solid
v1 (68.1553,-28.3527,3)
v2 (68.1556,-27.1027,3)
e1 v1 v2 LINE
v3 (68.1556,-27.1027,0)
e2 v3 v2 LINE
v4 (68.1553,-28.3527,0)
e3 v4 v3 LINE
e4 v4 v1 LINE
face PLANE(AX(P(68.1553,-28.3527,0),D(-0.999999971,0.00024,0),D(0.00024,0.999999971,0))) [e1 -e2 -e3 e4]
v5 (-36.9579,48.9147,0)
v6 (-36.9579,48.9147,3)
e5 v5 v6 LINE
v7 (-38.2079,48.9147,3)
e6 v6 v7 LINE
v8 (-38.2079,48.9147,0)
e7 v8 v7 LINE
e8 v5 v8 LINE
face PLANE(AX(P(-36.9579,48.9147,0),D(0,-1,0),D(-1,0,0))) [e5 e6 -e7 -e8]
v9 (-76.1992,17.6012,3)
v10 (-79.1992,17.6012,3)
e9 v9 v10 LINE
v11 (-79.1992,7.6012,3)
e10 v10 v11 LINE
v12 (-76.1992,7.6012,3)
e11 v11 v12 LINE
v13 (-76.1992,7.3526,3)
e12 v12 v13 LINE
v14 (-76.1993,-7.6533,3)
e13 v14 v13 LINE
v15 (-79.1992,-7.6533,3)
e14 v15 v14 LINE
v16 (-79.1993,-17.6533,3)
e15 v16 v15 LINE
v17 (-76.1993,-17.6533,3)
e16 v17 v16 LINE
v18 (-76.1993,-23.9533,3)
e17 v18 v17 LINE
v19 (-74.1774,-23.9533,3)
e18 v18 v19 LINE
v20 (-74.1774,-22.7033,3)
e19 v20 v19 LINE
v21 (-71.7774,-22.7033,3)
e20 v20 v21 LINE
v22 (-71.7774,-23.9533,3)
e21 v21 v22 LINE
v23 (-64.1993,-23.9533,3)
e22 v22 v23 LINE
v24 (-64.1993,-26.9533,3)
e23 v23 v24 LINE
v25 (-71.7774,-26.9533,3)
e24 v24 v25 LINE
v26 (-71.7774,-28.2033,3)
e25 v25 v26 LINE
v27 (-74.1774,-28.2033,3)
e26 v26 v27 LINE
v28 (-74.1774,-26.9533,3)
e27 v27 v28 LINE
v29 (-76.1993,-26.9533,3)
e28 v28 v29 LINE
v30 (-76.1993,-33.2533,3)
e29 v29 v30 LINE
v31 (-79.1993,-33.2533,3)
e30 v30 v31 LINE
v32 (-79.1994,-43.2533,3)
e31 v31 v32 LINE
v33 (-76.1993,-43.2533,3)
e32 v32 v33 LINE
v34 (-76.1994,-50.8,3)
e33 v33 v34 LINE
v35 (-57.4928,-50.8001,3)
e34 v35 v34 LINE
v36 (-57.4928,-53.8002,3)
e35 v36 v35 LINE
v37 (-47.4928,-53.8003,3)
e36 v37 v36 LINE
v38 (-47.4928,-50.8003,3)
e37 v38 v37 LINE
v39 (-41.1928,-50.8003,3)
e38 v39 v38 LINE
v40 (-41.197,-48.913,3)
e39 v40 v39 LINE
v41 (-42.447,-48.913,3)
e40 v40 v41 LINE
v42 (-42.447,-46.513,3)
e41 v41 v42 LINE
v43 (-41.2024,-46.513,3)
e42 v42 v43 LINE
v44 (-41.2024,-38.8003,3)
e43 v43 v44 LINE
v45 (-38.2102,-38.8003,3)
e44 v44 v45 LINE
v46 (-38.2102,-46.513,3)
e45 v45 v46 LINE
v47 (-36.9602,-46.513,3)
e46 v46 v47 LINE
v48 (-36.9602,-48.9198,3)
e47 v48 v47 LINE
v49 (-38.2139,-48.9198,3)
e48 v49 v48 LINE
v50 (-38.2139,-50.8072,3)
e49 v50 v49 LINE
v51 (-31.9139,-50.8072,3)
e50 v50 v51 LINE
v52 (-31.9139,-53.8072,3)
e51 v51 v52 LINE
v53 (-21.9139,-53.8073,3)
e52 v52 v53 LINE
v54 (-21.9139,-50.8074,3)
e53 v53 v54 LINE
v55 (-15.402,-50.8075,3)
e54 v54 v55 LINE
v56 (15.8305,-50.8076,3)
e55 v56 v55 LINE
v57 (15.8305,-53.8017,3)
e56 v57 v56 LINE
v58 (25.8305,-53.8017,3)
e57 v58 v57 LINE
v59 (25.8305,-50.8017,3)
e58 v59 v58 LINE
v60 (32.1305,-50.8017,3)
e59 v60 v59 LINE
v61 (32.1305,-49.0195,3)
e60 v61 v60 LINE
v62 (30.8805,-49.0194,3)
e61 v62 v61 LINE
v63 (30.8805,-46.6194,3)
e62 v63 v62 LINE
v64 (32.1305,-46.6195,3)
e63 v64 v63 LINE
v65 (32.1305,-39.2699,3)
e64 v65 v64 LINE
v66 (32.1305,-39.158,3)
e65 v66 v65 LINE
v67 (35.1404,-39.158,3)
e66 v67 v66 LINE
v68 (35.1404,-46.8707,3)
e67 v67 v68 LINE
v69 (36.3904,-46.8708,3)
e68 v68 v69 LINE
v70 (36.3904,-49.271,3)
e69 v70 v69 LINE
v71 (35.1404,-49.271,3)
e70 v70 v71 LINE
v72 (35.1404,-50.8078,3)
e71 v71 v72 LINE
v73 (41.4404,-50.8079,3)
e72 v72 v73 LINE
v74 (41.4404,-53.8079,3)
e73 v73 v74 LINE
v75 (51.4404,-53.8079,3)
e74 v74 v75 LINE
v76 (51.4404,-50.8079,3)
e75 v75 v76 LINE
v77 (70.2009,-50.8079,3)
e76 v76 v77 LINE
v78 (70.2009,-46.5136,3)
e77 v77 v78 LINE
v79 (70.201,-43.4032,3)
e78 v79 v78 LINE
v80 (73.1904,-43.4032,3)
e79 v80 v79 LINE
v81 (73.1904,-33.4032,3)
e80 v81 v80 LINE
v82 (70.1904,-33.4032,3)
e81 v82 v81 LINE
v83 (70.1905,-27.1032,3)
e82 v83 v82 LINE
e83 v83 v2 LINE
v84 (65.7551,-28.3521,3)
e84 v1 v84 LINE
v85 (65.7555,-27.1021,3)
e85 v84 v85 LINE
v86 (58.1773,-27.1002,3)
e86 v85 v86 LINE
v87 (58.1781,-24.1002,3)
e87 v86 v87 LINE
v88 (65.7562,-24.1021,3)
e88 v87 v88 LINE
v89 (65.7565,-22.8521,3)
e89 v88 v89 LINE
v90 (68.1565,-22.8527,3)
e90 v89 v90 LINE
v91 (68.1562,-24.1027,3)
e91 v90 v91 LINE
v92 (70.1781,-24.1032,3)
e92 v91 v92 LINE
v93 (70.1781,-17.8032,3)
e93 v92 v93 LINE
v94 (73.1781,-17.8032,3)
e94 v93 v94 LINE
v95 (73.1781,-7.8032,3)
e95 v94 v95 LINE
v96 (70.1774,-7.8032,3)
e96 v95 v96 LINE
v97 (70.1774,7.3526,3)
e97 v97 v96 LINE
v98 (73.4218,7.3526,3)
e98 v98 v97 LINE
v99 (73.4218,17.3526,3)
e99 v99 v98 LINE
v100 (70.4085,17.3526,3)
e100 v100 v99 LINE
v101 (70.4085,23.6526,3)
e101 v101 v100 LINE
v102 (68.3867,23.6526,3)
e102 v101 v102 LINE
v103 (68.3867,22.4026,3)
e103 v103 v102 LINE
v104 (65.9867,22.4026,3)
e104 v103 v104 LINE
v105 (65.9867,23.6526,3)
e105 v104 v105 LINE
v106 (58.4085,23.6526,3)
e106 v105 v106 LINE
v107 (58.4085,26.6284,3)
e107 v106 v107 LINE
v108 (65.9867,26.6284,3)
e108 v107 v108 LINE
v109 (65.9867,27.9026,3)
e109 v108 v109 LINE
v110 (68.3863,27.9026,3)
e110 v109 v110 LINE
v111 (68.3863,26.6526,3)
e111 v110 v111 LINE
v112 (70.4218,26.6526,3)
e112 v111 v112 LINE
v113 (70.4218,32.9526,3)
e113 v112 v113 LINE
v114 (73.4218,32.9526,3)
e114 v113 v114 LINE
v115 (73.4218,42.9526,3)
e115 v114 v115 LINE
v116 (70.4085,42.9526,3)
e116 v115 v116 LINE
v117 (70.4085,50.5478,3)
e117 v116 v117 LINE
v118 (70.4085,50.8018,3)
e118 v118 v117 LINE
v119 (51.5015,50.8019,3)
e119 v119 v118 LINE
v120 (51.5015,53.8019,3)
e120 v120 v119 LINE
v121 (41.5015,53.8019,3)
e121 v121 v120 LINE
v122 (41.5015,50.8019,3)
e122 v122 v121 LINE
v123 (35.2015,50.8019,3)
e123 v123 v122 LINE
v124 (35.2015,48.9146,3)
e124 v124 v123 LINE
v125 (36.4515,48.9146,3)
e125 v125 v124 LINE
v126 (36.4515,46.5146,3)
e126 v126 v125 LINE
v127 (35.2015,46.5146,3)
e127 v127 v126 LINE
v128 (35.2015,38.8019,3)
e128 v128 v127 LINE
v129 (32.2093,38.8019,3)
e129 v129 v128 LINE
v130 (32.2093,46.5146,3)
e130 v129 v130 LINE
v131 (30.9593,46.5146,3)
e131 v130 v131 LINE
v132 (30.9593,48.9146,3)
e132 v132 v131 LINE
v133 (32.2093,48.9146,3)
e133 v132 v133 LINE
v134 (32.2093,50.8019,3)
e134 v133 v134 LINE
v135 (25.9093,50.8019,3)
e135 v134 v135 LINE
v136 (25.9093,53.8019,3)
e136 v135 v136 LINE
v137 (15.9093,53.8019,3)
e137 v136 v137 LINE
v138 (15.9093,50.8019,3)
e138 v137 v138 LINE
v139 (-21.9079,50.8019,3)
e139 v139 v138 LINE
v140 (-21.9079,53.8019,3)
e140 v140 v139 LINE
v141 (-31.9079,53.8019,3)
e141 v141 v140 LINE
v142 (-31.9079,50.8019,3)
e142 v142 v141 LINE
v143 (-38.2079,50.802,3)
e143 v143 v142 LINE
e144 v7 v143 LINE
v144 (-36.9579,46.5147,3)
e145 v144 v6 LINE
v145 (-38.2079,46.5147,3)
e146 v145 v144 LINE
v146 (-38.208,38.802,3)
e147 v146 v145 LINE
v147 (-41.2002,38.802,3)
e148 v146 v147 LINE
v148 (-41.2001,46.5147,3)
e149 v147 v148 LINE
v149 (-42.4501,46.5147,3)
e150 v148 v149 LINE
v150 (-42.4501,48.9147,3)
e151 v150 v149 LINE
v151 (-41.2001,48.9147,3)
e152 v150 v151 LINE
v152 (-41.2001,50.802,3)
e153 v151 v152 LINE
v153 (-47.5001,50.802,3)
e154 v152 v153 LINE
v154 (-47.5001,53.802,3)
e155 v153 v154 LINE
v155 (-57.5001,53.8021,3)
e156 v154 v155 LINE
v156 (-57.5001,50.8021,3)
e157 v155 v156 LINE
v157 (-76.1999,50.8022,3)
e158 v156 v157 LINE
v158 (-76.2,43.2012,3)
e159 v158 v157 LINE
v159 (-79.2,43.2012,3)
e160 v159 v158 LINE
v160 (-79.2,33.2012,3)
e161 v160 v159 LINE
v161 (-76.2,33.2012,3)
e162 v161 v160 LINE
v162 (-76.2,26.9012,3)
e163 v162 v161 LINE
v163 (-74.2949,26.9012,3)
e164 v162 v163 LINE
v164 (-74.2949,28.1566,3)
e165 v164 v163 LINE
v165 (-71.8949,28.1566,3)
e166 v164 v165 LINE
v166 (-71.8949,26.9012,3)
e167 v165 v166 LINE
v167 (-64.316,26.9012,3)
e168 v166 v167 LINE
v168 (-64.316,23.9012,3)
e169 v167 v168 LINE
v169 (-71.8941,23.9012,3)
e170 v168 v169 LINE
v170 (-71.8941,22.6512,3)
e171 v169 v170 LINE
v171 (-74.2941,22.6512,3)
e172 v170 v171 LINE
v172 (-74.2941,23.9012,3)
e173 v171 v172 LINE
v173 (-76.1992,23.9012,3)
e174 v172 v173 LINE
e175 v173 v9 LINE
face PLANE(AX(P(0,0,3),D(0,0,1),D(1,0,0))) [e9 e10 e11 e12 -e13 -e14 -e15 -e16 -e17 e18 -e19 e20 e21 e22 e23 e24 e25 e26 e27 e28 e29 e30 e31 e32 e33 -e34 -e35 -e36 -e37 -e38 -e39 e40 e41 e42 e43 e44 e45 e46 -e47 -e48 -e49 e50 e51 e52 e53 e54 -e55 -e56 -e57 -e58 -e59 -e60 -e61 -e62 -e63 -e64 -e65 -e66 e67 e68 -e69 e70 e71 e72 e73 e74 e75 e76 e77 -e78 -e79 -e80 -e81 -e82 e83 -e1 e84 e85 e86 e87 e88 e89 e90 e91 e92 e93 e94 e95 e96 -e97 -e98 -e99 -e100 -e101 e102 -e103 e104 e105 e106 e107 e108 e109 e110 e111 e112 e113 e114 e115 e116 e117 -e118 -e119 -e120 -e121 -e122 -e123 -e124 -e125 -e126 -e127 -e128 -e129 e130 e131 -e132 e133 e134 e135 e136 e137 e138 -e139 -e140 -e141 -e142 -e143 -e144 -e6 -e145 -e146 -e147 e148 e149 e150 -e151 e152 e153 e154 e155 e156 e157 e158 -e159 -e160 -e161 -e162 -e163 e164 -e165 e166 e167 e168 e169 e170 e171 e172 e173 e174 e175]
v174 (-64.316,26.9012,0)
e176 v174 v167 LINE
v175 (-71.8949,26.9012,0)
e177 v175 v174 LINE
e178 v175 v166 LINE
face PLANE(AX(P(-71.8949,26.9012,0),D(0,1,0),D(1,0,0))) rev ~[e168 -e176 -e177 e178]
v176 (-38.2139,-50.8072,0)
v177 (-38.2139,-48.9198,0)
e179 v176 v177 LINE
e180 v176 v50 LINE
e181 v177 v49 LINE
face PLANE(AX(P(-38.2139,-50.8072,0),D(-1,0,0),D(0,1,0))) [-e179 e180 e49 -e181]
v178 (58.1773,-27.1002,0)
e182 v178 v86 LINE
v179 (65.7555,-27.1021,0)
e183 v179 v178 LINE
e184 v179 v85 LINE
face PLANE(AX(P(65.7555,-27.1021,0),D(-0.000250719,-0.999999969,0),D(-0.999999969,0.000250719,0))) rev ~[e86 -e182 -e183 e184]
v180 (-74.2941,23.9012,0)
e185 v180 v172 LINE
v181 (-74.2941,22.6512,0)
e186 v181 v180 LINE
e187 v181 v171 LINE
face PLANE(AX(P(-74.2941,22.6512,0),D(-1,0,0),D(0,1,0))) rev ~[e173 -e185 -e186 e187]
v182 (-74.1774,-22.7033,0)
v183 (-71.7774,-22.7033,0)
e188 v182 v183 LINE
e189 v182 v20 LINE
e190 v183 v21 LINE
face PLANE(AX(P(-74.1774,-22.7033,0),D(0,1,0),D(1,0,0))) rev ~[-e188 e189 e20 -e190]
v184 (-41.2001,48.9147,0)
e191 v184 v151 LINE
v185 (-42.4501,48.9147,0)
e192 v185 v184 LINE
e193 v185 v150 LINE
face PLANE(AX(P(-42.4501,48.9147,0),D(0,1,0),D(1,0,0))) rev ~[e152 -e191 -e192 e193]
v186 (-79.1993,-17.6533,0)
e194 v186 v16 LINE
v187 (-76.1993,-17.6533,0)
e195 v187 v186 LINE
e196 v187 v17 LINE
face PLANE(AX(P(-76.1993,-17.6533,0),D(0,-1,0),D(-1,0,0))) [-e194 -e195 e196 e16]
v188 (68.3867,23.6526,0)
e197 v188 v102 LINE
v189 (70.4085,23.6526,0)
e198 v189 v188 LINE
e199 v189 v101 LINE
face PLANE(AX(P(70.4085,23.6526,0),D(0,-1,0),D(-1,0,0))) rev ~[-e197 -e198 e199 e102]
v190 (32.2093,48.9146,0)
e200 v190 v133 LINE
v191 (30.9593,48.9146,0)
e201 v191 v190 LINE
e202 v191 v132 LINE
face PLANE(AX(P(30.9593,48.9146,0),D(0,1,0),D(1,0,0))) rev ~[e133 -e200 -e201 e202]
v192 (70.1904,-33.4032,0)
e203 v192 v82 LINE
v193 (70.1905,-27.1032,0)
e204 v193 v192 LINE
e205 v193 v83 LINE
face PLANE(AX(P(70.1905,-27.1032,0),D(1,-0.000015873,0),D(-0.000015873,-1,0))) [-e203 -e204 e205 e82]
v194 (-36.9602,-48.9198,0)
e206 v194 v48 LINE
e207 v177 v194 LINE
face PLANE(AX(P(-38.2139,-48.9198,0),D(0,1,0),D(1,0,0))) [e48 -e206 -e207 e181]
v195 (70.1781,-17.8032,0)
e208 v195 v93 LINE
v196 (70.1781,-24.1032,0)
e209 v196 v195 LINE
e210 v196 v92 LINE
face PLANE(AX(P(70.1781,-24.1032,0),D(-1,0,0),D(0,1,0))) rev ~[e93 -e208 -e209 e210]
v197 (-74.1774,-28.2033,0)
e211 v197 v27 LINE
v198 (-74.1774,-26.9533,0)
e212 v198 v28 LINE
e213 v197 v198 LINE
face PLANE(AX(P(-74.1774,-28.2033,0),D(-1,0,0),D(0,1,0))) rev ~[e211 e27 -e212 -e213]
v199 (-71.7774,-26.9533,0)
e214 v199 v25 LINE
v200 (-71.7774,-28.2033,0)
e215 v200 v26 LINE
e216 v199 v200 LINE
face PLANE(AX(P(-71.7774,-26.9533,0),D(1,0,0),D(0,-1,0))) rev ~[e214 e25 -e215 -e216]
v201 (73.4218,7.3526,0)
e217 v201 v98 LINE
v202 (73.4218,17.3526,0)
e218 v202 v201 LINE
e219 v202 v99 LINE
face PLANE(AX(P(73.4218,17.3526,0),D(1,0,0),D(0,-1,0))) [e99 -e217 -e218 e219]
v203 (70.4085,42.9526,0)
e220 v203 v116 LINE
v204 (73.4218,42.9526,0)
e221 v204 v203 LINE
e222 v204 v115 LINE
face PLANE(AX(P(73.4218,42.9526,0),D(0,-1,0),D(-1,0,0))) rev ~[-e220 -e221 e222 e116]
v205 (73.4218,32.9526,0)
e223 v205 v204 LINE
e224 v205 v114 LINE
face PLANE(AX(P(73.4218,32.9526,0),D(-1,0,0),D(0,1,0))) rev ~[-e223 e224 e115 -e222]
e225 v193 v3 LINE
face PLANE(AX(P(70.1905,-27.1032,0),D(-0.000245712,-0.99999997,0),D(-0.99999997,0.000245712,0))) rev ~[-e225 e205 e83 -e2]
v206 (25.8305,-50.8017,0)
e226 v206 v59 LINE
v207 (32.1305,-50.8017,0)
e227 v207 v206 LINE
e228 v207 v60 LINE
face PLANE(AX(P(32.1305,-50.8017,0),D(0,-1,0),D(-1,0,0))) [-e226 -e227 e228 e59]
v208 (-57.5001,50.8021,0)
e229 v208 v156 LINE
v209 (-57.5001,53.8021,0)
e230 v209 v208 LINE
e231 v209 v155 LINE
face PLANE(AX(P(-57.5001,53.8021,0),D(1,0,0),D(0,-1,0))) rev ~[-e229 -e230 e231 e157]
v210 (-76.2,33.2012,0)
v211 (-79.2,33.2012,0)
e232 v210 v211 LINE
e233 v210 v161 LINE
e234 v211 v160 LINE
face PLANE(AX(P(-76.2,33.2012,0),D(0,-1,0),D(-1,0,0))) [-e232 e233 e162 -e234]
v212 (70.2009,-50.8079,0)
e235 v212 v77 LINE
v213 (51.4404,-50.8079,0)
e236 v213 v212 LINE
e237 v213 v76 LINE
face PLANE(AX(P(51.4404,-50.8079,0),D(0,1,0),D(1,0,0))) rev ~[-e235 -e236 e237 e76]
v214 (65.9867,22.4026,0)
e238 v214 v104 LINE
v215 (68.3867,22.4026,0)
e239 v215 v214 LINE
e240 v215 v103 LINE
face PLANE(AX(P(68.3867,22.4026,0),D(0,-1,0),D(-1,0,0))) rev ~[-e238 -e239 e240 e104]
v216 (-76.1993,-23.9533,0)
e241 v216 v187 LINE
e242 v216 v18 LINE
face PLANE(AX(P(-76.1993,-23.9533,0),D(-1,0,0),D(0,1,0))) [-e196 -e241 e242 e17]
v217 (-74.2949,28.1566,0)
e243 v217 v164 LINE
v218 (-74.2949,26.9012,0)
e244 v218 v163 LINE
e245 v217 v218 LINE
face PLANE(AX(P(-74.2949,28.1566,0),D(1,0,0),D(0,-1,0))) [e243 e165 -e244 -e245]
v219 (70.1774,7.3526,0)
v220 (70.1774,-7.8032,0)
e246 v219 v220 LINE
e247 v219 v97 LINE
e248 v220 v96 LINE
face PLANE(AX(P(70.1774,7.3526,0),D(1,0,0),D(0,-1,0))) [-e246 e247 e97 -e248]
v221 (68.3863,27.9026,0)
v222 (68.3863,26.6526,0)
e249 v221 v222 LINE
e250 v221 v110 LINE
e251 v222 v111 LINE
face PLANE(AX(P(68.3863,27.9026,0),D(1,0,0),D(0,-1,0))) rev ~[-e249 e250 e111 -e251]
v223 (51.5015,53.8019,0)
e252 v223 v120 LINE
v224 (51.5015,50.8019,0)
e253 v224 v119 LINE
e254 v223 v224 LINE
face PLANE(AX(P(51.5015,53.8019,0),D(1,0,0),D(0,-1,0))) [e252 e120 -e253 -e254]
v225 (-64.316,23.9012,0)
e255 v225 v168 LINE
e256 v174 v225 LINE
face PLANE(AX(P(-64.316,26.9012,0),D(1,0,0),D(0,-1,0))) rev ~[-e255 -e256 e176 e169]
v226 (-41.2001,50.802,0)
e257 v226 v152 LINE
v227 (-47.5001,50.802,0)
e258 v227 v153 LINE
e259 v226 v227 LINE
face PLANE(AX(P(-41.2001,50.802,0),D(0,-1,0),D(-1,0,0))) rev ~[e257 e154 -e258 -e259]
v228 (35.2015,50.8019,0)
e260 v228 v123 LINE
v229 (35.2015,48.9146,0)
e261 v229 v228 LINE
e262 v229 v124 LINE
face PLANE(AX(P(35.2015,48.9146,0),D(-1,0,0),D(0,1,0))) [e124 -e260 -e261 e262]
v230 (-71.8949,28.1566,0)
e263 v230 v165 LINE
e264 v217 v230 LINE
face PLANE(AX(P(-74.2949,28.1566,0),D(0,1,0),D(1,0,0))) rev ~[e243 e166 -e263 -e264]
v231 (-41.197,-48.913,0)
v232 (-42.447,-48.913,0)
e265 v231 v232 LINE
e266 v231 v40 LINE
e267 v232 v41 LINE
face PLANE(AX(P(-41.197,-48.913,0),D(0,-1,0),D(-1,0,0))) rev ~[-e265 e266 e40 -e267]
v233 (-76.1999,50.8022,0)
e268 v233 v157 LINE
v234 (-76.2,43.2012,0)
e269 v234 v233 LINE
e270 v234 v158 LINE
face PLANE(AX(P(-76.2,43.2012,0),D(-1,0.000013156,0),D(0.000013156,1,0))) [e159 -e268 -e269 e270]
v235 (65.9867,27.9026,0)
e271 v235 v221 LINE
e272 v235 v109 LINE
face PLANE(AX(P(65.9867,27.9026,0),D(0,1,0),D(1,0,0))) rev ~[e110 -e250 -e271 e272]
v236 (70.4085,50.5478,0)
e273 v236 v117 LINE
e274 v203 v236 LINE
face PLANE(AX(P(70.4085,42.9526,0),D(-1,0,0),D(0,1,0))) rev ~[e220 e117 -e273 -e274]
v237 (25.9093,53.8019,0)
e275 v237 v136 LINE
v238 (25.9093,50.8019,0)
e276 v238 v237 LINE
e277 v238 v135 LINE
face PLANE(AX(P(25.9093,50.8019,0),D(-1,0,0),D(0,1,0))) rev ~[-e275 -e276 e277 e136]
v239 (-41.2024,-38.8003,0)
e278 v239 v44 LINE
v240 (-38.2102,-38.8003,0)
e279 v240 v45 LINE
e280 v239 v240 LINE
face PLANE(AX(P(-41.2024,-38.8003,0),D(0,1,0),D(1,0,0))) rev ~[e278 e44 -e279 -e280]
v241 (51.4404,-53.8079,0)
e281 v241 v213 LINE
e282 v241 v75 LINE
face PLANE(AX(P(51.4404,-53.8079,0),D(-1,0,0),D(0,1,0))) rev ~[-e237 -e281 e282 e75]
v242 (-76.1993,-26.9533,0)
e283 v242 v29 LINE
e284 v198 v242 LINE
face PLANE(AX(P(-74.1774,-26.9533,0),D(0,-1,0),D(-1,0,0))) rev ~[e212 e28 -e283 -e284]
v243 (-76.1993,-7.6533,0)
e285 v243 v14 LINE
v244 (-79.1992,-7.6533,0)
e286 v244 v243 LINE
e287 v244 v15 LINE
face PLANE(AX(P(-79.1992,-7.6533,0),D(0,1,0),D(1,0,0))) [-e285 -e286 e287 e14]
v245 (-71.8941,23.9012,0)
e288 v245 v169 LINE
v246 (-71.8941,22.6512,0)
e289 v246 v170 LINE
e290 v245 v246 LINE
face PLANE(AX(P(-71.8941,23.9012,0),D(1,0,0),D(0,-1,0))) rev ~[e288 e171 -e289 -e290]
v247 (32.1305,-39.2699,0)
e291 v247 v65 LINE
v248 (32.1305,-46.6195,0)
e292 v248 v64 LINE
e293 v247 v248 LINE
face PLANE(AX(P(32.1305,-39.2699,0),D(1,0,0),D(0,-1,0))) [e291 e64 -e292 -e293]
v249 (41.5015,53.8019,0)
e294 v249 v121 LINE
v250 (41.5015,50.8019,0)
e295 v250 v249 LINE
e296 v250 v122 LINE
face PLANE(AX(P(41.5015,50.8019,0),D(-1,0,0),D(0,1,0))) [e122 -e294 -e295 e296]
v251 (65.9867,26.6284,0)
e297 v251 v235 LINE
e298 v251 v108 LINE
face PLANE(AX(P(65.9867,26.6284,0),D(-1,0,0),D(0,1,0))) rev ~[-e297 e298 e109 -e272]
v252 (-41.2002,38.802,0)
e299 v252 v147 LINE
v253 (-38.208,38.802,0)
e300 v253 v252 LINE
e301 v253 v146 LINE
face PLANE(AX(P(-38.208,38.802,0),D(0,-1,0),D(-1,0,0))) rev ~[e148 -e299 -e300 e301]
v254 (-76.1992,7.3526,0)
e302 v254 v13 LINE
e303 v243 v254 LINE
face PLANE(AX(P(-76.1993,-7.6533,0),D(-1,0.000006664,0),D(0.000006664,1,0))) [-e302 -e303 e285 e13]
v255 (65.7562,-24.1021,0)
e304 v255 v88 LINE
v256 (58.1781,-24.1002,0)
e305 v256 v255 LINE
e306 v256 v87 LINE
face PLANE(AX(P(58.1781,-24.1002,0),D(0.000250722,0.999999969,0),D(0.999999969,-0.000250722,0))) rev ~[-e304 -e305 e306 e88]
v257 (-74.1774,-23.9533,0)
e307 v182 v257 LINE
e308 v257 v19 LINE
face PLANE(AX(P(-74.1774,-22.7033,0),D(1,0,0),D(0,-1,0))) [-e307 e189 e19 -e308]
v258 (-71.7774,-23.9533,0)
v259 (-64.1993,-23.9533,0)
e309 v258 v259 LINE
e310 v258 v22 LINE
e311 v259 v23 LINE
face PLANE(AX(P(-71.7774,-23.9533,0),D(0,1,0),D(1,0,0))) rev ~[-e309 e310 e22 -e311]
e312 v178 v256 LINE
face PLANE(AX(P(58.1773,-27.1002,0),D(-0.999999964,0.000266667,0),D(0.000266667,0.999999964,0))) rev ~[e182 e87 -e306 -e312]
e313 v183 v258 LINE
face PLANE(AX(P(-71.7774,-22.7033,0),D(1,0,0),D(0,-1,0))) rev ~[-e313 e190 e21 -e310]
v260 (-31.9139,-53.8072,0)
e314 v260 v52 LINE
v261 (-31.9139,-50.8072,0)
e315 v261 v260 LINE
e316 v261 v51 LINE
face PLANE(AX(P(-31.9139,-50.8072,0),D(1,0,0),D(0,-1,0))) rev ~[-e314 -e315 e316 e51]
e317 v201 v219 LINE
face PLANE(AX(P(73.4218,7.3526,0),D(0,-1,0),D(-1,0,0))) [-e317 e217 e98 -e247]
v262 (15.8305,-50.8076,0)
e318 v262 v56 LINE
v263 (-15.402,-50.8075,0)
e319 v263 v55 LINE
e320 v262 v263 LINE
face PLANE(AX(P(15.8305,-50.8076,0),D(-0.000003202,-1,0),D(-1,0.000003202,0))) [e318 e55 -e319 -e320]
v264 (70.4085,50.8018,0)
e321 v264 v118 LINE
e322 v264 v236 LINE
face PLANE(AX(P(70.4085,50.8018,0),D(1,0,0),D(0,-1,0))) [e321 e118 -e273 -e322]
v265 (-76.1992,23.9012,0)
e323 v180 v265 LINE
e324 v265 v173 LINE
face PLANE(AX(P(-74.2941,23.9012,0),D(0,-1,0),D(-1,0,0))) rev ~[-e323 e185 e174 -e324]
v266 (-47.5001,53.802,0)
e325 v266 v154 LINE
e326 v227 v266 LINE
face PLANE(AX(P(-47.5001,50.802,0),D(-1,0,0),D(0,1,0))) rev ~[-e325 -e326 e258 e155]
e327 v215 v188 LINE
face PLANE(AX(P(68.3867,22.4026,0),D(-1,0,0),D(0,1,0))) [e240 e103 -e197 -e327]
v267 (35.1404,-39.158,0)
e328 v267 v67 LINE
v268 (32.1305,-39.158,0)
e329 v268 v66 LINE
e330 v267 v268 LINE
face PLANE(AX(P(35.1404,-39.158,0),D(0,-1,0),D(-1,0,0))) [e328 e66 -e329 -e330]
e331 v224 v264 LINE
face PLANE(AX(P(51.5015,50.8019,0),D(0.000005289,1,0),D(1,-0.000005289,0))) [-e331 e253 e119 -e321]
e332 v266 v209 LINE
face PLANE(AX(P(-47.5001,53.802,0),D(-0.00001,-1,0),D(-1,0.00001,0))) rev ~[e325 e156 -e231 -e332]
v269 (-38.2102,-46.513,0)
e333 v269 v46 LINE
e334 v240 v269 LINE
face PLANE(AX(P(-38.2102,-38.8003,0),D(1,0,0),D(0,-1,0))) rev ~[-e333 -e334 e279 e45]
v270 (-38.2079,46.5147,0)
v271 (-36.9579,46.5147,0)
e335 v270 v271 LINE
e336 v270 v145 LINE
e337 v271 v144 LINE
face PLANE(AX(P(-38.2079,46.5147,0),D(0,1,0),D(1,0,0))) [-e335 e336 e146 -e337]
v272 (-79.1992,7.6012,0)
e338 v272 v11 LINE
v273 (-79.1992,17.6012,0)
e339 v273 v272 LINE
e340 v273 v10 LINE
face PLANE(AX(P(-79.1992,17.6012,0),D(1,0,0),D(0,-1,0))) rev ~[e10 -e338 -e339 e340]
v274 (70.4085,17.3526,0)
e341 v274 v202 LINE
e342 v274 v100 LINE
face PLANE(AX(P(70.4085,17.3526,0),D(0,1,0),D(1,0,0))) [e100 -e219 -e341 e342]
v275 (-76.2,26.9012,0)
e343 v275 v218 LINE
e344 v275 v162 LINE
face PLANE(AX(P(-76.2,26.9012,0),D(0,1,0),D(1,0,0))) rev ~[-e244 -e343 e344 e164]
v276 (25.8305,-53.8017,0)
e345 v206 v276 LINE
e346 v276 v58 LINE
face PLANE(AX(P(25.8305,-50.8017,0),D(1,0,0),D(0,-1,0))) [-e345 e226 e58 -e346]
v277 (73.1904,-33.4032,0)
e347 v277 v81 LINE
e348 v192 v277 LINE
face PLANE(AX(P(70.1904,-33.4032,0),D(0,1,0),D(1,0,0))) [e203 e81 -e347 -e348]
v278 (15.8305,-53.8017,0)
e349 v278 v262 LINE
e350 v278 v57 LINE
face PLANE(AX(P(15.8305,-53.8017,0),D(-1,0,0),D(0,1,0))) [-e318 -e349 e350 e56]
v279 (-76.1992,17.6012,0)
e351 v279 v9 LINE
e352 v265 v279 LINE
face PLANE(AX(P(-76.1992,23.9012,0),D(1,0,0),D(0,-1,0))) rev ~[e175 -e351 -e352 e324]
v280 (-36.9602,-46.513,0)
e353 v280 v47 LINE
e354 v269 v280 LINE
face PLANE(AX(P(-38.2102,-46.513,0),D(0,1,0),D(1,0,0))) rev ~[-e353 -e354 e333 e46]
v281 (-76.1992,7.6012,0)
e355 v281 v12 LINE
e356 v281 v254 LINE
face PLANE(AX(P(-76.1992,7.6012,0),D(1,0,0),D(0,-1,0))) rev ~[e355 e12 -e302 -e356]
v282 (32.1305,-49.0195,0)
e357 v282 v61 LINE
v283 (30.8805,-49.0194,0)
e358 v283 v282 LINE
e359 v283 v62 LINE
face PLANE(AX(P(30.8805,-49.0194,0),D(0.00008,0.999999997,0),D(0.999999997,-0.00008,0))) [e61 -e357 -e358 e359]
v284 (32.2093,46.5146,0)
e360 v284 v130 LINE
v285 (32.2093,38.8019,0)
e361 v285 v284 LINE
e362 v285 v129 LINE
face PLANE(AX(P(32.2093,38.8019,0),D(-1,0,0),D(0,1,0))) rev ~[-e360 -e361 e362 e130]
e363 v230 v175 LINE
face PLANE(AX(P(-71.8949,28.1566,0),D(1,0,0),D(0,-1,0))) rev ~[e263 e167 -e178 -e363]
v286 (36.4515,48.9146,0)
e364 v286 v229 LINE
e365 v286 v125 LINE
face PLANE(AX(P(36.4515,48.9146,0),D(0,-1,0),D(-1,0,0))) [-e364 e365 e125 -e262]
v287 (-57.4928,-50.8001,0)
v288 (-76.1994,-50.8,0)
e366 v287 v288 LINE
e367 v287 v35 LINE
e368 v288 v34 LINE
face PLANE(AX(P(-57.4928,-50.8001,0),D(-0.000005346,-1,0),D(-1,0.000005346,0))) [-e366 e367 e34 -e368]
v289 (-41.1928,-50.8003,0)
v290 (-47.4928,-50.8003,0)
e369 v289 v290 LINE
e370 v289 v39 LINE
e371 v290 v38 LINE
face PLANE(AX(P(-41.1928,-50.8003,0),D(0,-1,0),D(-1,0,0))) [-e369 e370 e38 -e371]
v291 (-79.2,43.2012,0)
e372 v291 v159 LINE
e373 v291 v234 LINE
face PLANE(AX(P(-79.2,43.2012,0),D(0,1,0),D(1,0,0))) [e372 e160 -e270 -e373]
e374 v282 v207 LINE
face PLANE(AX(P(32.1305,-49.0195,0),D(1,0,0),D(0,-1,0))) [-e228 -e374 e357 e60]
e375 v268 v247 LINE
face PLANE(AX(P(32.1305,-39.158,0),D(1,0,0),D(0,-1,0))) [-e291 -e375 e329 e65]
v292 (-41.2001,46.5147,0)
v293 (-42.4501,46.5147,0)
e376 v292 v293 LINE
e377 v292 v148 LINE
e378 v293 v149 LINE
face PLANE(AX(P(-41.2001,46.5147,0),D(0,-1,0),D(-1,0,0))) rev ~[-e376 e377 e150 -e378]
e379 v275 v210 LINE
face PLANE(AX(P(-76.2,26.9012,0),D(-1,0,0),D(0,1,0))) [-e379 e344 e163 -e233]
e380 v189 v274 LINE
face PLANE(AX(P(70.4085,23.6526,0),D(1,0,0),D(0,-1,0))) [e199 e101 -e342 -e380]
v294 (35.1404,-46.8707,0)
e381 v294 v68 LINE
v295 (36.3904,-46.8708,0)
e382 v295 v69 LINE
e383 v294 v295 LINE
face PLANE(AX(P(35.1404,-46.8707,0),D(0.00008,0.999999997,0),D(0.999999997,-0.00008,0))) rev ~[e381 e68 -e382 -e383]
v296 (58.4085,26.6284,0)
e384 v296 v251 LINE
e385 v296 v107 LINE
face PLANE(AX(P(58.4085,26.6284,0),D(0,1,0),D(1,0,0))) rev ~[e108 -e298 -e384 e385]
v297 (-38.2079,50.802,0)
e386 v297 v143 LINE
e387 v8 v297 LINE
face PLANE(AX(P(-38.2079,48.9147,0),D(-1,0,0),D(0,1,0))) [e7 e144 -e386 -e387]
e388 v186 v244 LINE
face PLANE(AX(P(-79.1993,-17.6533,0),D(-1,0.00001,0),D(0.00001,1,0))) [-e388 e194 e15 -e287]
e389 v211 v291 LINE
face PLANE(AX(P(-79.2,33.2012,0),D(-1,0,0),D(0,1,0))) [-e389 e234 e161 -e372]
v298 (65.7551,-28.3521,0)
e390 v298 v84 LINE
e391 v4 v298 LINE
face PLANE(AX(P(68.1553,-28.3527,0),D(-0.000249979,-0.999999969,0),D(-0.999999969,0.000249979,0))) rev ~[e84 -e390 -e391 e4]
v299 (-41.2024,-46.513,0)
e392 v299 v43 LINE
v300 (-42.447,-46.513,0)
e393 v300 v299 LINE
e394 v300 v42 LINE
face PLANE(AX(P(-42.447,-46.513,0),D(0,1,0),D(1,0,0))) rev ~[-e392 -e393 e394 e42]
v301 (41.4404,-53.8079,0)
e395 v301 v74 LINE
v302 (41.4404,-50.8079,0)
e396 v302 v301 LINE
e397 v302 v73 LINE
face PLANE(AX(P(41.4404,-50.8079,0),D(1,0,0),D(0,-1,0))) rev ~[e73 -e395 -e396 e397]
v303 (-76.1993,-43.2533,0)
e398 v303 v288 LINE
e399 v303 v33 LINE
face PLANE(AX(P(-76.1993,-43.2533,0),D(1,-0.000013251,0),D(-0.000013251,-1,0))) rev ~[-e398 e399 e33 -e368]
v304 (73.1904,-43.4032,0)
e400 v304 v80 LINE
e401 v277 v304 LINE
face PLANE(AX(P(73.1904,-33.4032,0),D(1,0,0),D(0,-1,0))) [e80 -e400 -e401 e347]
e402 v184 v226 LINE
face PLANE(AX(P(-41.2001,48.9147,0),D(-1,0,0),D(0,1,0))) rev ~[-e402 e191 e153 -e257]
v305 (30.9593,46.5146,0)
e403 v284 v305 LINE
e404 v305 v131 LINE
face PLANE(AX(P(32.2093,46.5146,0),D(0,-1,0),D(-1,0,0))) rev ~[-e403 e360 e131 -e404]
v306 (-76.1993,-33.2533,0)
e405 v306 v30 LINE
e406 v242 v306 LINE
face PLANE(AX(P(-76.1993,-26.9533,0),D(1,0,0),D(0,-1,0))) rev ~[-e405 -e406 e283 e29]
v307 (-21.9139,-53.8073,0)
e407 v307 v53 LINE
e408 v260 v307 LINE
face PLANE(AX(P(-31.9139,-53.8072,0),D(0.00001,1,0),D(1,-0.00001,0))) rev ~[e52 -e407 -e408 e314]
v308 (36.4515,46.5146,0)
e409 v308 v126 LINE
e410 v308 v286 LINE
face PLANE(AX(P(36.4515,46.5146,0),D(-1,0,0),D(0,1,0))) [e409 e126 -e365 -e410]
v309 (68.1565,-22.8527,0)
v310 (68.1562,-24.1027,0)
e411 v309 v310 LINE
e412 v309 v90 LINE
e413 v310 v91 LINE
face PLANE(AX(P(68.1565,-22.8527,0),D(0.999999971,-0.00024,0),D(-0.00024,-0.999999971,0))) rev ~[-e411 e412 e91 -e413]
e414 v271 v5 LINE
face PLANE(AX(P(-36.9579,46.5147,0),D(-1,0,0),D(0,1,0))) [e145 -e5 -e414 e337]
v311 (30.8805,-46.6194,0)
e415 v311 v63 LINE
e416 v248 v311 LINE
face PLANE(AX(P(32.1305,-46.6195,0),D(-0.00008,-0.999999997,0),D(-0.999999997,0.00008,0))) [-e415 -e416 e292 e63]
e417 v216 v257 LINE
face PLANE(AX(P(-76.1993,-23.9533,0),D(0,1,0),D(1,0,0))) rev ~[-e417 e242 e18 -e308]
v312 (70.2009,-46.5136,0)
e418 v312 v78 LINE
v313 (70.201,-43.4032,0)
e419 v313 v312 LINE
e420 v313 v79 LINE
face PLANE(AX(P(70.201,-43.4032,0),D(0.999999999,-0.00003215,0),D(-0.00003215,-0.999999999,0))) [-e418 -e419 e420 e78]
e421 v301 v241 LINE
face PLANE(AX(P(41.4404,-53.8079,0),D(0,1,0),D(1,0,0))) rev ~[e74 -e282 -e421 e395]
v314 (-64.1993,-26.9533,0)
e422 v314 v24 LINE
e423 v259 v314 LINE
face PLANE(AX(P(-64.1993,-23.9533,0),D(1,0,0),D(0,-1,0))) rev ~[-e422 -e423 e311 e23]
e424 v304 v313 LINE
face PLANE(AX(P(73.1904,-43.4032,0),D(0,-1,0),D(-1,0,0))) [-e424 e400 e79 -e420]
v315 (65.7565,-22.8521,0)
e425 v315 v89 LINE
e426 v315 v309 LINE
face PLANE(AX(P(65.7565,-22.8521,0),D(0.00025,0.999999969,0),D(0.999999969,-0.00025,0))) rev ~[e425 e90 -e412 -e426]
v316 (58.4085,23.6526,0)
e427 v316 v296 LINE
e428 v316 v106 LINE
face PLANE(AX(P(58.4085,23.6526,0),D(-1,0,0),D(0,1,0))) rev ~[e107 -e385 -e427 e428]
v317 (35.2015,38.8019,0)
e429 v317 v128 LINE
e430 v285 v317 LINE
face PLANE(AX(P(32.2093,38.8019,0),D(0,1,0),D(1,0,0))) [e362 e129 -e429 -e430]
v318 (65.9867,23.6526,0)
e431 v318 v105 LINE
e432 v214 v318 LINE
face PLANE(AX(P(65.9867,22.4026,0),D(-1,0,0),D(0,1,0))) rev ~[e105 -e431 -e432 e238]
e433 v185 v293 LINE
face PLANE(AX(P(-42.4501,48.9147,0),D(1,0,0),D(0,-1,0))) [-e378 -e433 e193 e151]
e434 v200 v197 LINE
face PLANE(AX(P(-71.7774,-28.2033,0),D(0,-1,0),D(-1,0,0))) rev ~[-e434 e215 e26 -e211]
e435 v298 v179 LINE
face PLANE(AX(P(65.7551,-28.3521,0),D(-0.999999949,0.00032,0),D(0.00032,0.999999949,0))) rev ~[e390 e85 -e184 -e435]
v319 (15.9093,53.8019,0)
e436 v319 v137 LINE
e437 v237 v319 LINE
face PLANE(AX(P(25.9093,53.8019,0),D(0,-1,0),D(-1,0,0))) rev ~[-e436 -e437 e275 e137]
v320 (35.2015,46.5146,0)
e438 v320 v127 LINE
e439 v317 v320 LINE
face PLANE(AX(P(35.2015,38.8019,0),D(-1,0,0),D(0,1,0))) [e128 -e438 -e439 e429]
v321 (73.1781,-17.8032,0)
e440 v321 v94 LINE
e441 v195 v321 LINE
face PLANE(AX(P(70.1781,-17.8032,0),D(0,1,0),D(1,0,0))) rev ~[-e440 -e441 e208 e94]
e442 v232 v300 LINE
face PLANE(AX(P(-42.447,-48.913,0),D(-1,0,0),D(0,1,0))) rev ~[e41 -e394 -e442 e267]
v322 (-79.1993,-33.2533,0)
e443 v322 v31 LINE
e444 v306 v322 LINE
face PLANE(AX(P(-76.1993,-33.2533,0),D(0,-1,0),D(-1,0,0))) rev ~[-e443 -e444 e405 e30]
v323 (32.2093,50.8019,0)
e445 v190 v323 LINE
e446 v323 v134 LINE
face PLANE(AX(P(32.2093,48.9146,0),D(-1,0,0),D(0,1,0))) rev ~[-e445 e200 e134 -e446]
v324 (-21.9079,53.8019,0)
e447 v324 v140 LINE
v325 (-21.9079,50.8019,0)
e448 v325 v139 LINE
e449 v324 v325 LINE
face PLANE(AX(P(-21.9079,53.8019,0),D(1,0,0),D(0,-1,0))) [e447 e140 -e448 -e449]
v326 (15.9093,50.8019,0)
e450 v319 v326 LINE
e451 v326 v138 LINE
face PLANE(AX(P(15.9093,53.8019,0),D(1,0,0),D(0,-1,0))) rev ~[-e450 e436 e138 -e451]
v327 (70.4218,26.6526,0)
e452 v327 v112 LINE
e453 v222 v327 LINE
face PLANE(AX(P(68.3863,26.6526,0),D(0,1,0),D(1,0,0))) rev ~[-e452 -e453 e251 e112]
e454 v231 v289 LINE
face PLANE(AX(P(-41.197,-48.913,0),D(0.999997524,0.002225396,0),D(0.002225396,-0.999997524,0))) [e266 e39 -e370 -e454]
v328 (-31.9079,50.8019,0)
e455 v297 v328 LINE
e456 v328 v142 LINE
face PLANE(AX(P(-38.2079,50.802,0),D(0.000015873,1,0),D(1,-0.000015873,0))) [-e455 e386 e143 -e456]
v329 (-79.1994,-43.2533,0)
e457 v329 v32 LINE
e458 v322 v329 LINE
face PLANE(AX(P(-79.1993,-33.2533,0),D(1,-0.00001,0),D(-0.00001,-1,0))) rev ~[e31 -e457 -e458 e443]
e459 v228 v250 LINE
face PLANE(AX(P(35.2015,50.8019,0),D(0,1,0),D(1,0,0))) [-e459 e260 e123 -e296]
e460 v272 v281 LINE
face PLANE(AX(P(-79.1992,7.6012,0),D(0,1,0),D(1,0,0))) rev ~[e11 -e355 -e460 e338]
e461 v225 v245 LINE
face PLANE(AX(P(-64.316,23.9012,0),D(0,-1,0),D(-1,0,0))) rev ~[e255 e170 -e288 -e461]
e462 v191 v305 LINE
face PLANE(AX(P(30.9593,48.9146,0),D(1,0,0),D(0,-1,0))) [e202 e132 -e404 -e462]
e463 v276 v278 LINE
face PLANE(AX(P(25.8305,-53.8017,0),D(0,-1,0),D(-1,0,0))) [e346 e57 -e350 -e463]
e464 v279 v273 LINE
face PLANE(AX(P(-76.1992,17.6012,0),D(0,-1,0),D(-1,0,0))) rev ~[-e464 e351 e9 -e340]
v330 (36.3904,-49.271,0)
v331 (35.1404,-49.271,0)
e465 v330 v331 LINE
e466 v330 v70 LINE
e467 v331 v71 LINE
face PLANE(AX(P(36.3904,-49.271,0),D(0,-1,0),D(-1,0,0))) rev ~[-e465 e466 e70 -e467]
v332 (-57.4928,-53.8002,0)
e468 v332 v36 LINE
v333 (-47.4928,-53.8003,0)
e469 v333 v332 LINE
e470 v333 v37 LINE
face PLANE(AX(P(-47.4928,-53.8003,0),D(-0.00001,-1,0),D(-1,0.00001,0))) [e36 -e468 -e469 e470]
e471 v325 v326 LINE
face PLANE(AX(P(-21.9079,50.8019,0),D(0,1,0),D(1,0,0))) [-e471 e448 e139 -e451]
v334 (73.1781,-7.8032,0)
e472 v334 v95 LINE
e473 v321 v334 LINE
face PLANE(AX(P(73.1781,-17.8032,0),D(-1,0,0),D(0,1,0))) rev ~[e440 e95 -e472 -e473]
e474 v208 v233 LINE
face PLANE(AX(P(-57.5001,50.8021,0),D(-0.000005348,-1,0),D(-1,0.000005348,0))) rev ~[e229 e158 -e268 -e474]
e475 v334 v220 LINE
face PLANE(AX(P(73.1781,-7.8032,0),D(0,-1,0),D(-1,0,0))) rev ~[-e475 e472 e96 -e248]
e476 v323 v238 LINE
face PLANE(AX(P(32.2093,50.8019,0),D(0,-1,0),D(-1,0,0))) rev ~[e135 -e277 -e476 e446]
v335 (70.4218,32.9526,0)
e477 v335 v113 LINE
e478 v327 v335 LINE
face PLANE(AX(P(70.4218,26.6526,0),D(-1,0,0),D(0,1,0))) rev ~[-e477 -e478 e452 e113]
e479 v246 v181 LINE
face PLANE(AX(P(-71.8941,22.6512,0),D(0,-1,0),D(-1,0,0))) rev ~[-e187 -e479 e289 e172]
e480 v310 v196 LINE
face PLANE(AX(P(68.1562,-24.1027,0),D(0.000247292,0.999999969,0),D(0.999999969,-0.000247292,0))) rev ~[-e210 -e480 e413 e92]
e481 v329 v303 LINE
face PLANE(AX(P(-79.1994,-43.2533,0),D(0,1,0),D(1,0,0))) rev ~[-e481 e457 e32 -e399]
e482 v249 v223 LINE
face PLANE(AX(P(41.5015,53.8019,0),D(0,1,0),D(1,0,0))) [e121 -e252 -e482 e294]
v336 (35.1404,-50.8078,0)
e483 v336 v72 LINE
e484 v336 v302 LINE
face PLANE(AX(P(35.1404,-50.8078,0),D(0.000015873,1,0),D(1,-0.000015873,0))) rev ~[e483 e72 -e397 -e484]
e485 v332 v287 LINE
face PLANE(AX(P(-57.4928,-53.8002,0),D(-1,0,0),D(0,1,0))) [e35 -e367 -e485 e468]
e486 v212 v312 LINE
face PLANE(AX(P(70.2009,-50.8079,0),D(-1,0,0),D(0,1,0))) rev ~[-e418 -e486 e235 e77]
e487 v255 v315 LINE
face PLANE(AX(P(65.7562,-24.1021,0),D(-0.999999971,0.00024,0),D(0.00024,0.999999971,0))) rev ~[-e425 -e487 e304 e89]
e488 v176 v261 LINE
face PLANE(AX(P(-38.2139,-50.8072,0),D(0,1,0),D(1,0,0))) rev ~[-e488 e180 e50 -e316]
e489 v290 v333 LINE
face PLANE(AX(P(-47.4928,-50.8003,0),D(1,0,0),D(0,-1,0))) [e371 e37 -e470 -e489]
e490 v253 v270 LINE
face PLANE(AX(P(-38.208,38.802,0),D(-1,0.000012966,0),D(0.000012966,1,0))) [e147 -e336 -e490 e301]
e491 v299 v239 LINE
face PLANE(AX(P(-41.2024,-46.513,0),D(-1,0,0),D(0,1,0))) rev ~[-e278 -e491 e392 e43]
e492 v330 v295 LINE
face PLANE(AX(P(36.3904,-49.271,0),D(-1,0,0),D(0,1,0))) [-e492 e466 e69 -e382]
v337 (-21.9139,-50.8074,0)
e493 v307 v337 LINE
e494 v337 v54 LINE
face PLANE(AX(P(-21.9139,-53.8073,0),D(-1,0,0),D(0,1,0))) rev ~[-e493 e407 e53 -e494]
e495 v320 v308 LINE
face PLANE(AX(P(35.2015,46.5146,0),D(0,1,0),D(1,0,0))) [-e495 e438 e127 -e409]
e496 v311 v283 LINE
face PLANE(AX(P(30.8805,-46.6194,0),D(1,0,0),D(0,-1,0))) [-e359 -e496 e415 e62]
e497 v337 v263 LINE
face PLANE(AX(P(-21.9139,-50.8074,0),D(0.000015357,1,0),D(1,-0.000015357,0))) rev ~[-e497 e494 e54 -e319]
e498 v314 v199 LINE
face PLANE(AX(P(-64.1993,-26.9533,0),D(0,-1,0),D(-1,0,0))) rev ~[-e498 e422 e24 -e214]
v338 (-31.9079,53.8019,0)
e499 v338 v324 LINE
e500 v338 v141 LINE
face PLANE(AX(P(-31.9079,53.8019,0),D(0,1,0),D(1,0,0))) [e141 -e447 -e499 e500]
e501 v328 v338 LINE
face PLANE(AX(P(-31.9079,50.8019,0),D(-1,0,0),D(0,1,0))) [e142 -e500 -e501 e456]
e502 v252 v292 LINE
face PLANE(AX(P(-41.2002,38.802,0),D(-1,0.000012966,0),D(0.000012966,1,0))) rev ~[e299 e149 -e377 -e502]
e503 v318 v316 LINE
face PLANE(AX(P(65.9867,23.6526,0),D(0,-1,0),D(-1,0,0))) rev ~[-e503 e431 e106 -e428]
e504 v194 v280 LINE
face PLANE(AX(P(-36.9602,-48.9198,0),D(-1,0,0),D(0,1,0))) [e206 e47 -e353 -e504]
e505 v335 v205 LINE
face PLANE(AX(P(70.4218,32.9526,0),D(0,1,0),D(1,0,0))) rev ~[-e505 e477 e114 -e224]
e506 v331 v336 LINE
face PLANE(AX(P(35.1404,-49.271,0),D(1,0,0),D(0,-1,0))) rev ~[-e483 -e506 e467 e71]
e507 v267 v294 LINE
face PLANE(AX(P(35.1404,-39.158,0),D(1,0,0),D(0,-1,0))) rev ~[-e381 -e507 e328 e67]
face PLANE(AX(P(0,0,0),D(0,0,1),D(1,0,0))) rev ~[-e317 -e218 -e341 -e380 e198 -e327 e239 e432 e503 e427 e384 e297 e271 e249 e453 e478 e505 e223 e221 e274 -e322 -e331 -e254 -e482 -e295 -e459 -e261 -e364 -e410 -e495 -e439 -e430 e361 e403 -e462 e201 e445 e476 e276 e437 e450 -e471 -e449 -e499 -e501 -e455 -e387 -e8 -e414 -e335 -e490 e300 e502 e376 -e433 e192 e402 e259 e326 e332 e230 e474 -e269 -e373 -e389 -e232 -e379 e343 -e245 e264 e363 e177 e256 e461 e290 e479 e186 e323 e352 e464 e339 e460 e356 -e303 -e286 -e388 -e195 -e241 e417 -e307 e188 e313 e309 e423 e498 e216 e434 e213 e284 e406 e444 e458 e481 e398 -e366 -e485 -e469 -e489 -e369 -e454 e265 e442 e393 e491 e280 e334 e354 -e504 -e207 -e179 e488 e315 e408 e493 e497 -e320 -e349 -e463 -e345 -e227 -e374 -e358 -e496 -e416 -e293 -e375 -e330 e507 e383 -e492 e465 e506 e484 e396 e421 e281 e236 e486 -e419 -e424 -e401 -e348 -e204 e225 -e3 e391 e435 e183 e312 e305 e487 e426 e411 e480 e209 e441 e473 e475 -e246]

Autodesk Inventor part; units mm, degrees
ref_plane "YZ Plane" through (0, 0, 0) normal (1, 0, 0) x (0, 1, 0)
ref_plane "XZ Plane" through (0, 0, 0) normal (0, 1, 0) x (-1, 0, 0)
ref_plane "XY Plane" through (0, 0, 0) normal (0, 0, 1) x (1, 0, 0)
sketch "Sketch1" plane through (0, 0, 0) normal (0, 0, 1) x (1, 0, 0)
  line L0 (-76.2, 26.9012) -> (-74.2949, 26.9012)
  line L1 (-74.2941, 23.9012) -> (-76.1992, 23.9012)
  line L2 (-74.2949, 28.1566) -> (-71.8949, 28.1566)
  line L3 (-71.8949, 26.9012) -> (-64.316, 26.9012)
  line L4 (-64.316, 26.9012) -> (-64.316, 23.9012)
  line L5 (-64.316, 23.9012) -> (-71.8941, 23.9012)
  line L6 (-71.8941, 23.9012) -> (-71.8941, 22.6512)
  line L7 (-71.8941, 22.6512) -> (-74.2941, 22.6512)
  line L8 (-74.2941, 22.6512) -> (-74.2941, 23.9012)
  line L9 (-71.8949, 28.1566) -> (-71.8949, 26.9012)
  line L10 (-74.2949, 28.1566) -> (-74.2949, 26.9012)
  line L11 (-76.1993, -23.9533) -> (-74.1774, -23.9533)
  line L12 (-74.1774, -26.9533) -> (-76.1993, -26.9533)
  line L13 (-74.1774, -22.7033) -> (-71.7774, -22.7033)
  line L14 (-71.7774, -23.9533) -> (-64.1993, -23.9533)
  line L15 (-64.1993, -23.9533) -> (-64.1993, -26.9533)
  line L16 (-64.1993, -26.9533) -> (-71.7774, -26.9533)
  line L17 (-71.7774, -26.9533) -> (-71.7774, -28.2033)
  line L18 (-71.7774, -28.2033) -> (-74.1774, -28.2033)
  line L19 (-74.1774, -28.2033) -> (-74.1774, -26.9533)
  line L20 (-71.7774, -22.7033) -> (-71.7774, -23.9533)
  line L21 (-74.1774, -22.7033) -> (-74.1774, -23.9533)
  line L22 (68.1553, -28.3527) -> (65.7551, -28.3521)
  line L23 (68.1553, -28.3527) -> (68.1556, -27.1027)
  line L24 (65.7551, -28.3521) -> (65.7555, -27.1021)
  line L25 (65.7555, -27.1021) -> (58.1773, -27.1002)
  line L26 (68.1562, -24.1027) -> (70.1781, -24.1032)
  line L27 (58.1781, -24.1002) -> (65.7562, -24.1021)
  line L28 (65.7562, -24.1021) -> (65.7565, -22.8521)
  line L29 (65.7565, -22.8521) -> (68.1565, -22.8527)
  line L30 (70.1905, -27.1032) -> (68.1556, -27.1027)
  line L31 (58.1773, -27.1002) -> (58.1781, -24.1002)
  line L32 (68.1565, -22.8527) -> (68.1562, -24.1027)
  line L33 (68.3867, 22.4026) -> (65.9867, 22.4026)
  line L34 (68.3867, 22.4026) -> (68.3867, 23.6526)
  line L35 (65.9867, 22.4026) -> (65.9867, 23.6526)
  line L36 (65.9867, 23.6526) -> (58.4085, 23.6526)
  line L37 (68.3863, 26.6526) -> (70.4218, 26.6526)
  line L38 (58.4085, 26.6284) -> (65.9867, 26.6284)
  line L39 (65.9867, 26.6284) -> (65.9867, 27.9026)
  line L40 (65.9867, 27.9026) -> (68.3863, 27.9026)
  line L41 (70.4085, 23.6526) -> (68.3867, 23.6526)
  line L42 (58.4085, 23.6526) -> (58.4085, 26.6284)
  line L43 (68.3863, 27.9026) -> (68.3863, 26.6526)
  line L44 (-38.208, 38.802) -> (-38.2079, 46.5147)
  line L45 (-38.2079, 46.5147) -> (-36.9579, 46.5147)
  line L46 (-36.9579, 46.5147) -> (-36.9579, 48.9147)
  line L47 (-38.2079, 48.9147) -> (-38.2079, 50.802)
  line L48 (-36.9579, 48.9147) -> (-38.2079, 48.9147)
  line L49 (-41.2002, 38.802) -> (-41.2001, 46.5147)
  line L50 (-41.2001, 46.5147) -> (-42.4501, 46.5147)
  line L51 (-42.4501, 48.9147) -> (-41.2001, 48.9147)
  line L52 (-41.2001, 48.9147) -> (-41.2001, 50.802)
  line L53 (-42.4501, 48.9147) -> (-42.4501, 46.5147)
  line L54 (35.2015, 38.8019) -> (35.2015, 46.5146)
  line L55 (35.2015, 46.5146) -> (36.4515, 46.5146)
  line L56 (36.4515, 46.5146) -> (36.4515, 48.9146)
  line L57 (35.2015, 48.9146) -> (35.2015, 50.8019)
  line L58 (36.4515, 48.9146) -> (35.2015, 48.9146)
  line L59 (32.2093, 38.8019) -> (32.2093, 46.5146)
  line L60 (32.2093, 46.5146) -> (30.9593, 46.5146)
  line L61 (30.9593, 48.9146) -> (32.2093, 48.9146)
  line L62 (32.2093, 48.9146) -> (32.2093, 50.8019)
  line L63 (30.9593, 48.9146) -> (30.9593, 46.5146)
  line L64 (-41.197, -48.913) -> (-41.1928, -50.8003)
  line L65 (-38.2102, -38.8003) -> (-38.2102, -46.513)
  line L66 (-38.2102, -46.513) -> (-36.9602, -46.513)
  line L67 (-36.9602, -48.9198) -> (-36.9602, -46.513)
  line L68 (32.1305, -39.158) -> (32.1305, -46.6195)
  line L69 (32.1305, -46.6195) -> (30.8805, -46.6194)
  line L70 (30.8805, -46.6194) -> (30.8805, -49.0194)
  line L71 (30.8805, -49.0194) -> (32.1305, -49.0195)
  line L72 (32.1305, -49.0195) -> (32.1305, -50.8017)
  line L73 (35.1404, -39.158) -> (35.1404, -46.8707)
  line L74 (35.1404, -49.271) -> (35.1404, -50.8078)
  line L75 (35.1404, -46.8707) -> (36.3904, -46.8708)
  line L76 (36.3904, -49.271) -> (36.3904, -46.8708)
  line L77 (36.3904, -49.271) -> (35.1404, -49.271)
  line L78 (-36.9602, -50.8078) -> (-36.9584, -50.8078)
  line L79 (-76.2, 26.9012) -> (-76.2, 33.2012)
  line L80 (-41.2001, 50.802) -> (-47.5001, 50.802)
  line L81 (-47.5001, 50.802) -> (-47.5001, 53.802)
  line L82 (-47.5001, 53.802) -> (-57.5001, 53.8021)
  line L83 (-57.5001, 53.8021) -> (-57.5001, 50.8021)
  line L84 (-57.5001, 50.8021) -> (-76.1999, 50.8022)
  line L85 (-38.2079, 50.802) -> (-31.9079, 50.8019)
  line L86 (-31.9079, 50.8019) -> (-31.9079, 53.8019)
  line L87 (-31.9079, 53.8019) -> (-21.9079, 53.8019)
  line L88 (-21.9079, 53.8019) -> (-21.9079, 50.8019)
  line L89 (-21.9079, 50.8019) -> (15.9093, 50.8019)
  line L90 (32.2093, 50.8019) -> (25.9093, 50.8019)
  line L91 (25.9093, 50.8019) -> (25.9093, 53.8019)
  line L92 (25.9093, 53.8019) -> (15.9093, 53.8019)
  line L93 (15.9093, 53.8019) -> (15.9093, 50.8019)
  line L94 (35.2015, 50.8019) -> (41.5015, 50.8019)
  line L95 (41.5015, 50.8019) -> (41.5015, 53.8019)
  line L96 (41.5015, 53.8019) -> (51.5015, 53.8019)
  line L97 (51.5015, 53.8019) -> (51.5015, 50.8019)
  line L98 (70.4218, 26.6526) -> (70.4218, 32.9526)
  line L99 (70.4218, 32.9526) -> (73.4218, 32.9526)
  line L100 (73.4218, 32.9526) -> (73.4218, 42.9526)
  line L101 (73.4218, 42.9526) -> (70.4085, 42.9526)
  line L102 (70.4085, 42.9526) -> (70.4085, 50.5478)
  line L103 (70.4085, 23.6526) -> (70.4085, 17.3526)
  line L104 (70.4085, 17.3526) -> (73.4218, 17.3526)
  line L105 (73.4218, 17.3526) -> (73.4218, 7.3526)
  line L106 (73.4218, 7.3526) -> (70.1774, 7.3526)
  line L107 (70.1774, 7.3526) -> (70.1774, -7.8032)
  line L108 (70.1781, -24.1032) -> (70.1781, -17.8032)
  line L109 (70.1781, -17.8032) -> (73.1781, -17.8032)
  line L110 (73.1781, -17.8032) -> (73.1781, -7.8032)
  line L111 (73.1781, -7.8032) -> (70.1774, -7.8032)
  line L112 (70.1905, -27.1032) -> (70.1904, -33.4032)
  line L113 (70.1904, -33.4032) -> (73.1904, -33.4032)
  line L114 (73.1904, -33.4032) -> (73.1904, -43.4032)
  line L115 (73.1904, -43.4032) -> (70.201, -43.4032)
  line L116 (70.201, -43.4032) -> (70.2009, -46.5136)
  line L117 (32.1305, -50.8017) -> (25.8305, -50.8017)
  line L118 (25.8305, -50.8017) -> (25.8305, -53.8017)
  line L119 (25.8305, -53.8017) -> (15.8305, -53.8017)
  line L120 (15.8305, -53.8017) -> (15.8305, -50.8076)
  line L121 (15.8305, -50.8076) -> (-15.402, -50.8075)
  line L122 (-41.197, -48.913) -> (-42.447, -48.913)
  line L123 (-42.447, -48.913) -> (-42.447, -46.513)
  line L124 (-42.447, -46.513) -> (-41.2024, -46.513)
  line L125 (-38.2139, -50.8072) -> (-38.2139, -48.9198)
  line L126 (-38.2139, -48.9198) -> (-36.9602, -48.9198)
  line L127 (-41.2024, -46.513) -> (-41.2024, -38.8003)
  line L128 (-38.2139, -50.8072) -> (-31.9139, -50.8072)
  line L129 (-31.9139, -50.8072) -> (-31.9139, -53.8072)
  line L130 (-31.9139, -53.8072) -> (-21.9139, -53.8073)
  line L131 (-21.9139, -53.8073) -> (-21.9139, -50.8074)
  line L132 (-21.9139, -50.8074) -> (-15.402, -50.8075)
  line L133 (-41.1928, -50.8003) -> (-47.4928, -50.8003)
  line L134 (-47.4928, -50.8003) -> (-47.4928, -53.8003)
  line L135 (-47.4928, -53.8003) -> (-57.4928, -53.8002)
  line L136 (-57.4928, -53.8002) -> (-57.4928, -50.8001)
  line L137 (-57.4928, -50.8001) -> (-76.1994, -50.8)
  line L138 (-76.1993, -26.9533) -> (-76.1993, -33.2533)
  line L139 (-76.1993, -33.2533) -> (-79.1993, -33.2533)
  line L140 (-79.1993, -33.2533) -> (-79.1994, -43.2533)
  line L141 (-79.1994, -43.2533) -> (-76.1993, -43.2533)
  line L142 (-76.1993, -43.2533) -> (-76.1994, -50.8)
  line L143 (-76.1993, -23.9533) -> (-76.1993, -17.6533)
  line L144 (-76.1993, -17.6533) -> (-79.1993, -17.6533)
  line L145 (-79.1993, -17.6533) -> (-79.1992, -7.6533)
  line L146 (-79.1992, -7.6533) -> (-76.1993, -7.6533)
  line L147 (-76.1993, -7.6533) -> (-76.1992, 7.3526)
  line L148 (-76.1992, 23.9012) -> (-76.1992, 17.6012)
  line L149 (-76.1992, 17.6012) -> (-79.1992, 17.6012)
  line L150 (-79.1992, 17.6012) -> (-79.1992, 7.6012)
  line L151 (-79.1992, 7.6012) -> (-76.1992, 7.6012)
  line L152 (-76.1992, 7.6012) -> (-76.1992, 7.3526)
  line L153 (35.1404, -50.8078) -> (41.4404, -50.8079)
  line L154 (41.4404, -50.8079) -> (41.4404, -53.8079)
  line L155 (41.4404, -53.8079) -> (51.4404, -53.8079)
  line L156 (51.4404, -53.8079) -> (51.4404, -50.8079)
  line L157 (51.4404, -50.8079) -> (70.2009, -50.8079)
  line L158 (70.2009, -50.8079) -> (70.2009, -46.5136)
  line L159 (51.5015, 50.8019) -> (70.4085, 50.8018)
  line L160 (70.4085, 50.8018) -> (70.4085, 50.5478)
  line L161 (-38.208, 38.802) -> (-41.2002, 38.802)
  line L162 (32.2093, 38.8019) -> (35.2015, 38.8019)
  line L163 (-41.2024, -38.8003) -> (-38.2102, -38.8003)
  line L164 (32.1305, -39.2699) -> (32.1305, -39.158)
  line L165 (35.1404, -39.158) -> (32.1305, -39.158)
  line L166 (-76.2, 33.2012) -> (-79.2, 33.2012)
  line L167 (-79.2, 33.2012) -> (-79.2, 43.2012)
  line L168 (-79.2, 43.2012) -> (-76.2, 43.2012)
  line L169 (-76.2, 43.2012) -> (-76.1999, 50.8022)
  line L170 (-76.2, 38.8022) -> (-76.2, 38.8024)
  point P0 (0, 0)
  dimension "d39" = 12
  dimension "d40" = 3
  dimension "d41" = 7.5781
  dimension "d42" = 2.4
  dimension "d43" = 2.4
  dimension "d44" = 7.5781
  dimension "d45" = 1.25
  dimension "d46" = 1.25
  dimension "d47" = 2.0219
  dimension "d48" = 2.0219
  dimension "d49" = 2.4
  dimension "d50" = 2.4
  dimension "d77" = 2.4
  dimension "d78" = 2.4
  dimension "d89" = 1.25
  dimension "d90" = 2.4
  dimension "d91" = 1.25
  dimension "d95" = 1.25
  dimension "d96" = 2.4
  dimension "d97" = 1.25
  dimension "d102" = 1.25
  dimension "d105" = 1.25
  dimension "d106" = 2.4
  dimension "d107" = 1.25
  dimension "d112" = 6.3
  dimension "d113" = 3
  dimension "d114" = 10
  dimension "d115" = 6.3
  dimension "d116" = 10
  dimension "d117" = 6.3
  dimension "d118" = 3
  dimension "d119" = 10
  dimension "d120" = 6.3
  dimension "d121" = 10
  dimension "d122" = 6.3
  dimension "d123" = 3
  dimension "d124" = 10
  dimension "d125" = 6.3
  dimension "d126" = 10
  dimension "d127" = 6.3
  dimension "d128" = 3
  dimension "d129" = 10
  dimension "d130" = 6.3
  dimension "d131" = 3
  dimension "d132" = 10
  dimension "d136" = 6.3
  dimension "d137" = 3
  dimension "d138" = 10
  dimension "d139" = 1.25
  dimension "d140" = 2.4
  dimension "d142" = 6.3
  dimension "d143" = 3
  dimension "d144" = 10
  dimension "d145" = 90
  dimension "d146" = 6.3
  dimension "d147" = 3
  dimension "d148" = 10
  dimension "d149" = 6.3
  dimension "d150" = 3
  dimension "d151" = 10
  dimension "d152" = 6.3
  dimension "d153" = 3
  dimension "d154" = 10
  dimension "d155" = 6.3
extrude "Extrusion4" add sketch "Sketch1" along normal blind 3
properties part number "Box Side Panel"
